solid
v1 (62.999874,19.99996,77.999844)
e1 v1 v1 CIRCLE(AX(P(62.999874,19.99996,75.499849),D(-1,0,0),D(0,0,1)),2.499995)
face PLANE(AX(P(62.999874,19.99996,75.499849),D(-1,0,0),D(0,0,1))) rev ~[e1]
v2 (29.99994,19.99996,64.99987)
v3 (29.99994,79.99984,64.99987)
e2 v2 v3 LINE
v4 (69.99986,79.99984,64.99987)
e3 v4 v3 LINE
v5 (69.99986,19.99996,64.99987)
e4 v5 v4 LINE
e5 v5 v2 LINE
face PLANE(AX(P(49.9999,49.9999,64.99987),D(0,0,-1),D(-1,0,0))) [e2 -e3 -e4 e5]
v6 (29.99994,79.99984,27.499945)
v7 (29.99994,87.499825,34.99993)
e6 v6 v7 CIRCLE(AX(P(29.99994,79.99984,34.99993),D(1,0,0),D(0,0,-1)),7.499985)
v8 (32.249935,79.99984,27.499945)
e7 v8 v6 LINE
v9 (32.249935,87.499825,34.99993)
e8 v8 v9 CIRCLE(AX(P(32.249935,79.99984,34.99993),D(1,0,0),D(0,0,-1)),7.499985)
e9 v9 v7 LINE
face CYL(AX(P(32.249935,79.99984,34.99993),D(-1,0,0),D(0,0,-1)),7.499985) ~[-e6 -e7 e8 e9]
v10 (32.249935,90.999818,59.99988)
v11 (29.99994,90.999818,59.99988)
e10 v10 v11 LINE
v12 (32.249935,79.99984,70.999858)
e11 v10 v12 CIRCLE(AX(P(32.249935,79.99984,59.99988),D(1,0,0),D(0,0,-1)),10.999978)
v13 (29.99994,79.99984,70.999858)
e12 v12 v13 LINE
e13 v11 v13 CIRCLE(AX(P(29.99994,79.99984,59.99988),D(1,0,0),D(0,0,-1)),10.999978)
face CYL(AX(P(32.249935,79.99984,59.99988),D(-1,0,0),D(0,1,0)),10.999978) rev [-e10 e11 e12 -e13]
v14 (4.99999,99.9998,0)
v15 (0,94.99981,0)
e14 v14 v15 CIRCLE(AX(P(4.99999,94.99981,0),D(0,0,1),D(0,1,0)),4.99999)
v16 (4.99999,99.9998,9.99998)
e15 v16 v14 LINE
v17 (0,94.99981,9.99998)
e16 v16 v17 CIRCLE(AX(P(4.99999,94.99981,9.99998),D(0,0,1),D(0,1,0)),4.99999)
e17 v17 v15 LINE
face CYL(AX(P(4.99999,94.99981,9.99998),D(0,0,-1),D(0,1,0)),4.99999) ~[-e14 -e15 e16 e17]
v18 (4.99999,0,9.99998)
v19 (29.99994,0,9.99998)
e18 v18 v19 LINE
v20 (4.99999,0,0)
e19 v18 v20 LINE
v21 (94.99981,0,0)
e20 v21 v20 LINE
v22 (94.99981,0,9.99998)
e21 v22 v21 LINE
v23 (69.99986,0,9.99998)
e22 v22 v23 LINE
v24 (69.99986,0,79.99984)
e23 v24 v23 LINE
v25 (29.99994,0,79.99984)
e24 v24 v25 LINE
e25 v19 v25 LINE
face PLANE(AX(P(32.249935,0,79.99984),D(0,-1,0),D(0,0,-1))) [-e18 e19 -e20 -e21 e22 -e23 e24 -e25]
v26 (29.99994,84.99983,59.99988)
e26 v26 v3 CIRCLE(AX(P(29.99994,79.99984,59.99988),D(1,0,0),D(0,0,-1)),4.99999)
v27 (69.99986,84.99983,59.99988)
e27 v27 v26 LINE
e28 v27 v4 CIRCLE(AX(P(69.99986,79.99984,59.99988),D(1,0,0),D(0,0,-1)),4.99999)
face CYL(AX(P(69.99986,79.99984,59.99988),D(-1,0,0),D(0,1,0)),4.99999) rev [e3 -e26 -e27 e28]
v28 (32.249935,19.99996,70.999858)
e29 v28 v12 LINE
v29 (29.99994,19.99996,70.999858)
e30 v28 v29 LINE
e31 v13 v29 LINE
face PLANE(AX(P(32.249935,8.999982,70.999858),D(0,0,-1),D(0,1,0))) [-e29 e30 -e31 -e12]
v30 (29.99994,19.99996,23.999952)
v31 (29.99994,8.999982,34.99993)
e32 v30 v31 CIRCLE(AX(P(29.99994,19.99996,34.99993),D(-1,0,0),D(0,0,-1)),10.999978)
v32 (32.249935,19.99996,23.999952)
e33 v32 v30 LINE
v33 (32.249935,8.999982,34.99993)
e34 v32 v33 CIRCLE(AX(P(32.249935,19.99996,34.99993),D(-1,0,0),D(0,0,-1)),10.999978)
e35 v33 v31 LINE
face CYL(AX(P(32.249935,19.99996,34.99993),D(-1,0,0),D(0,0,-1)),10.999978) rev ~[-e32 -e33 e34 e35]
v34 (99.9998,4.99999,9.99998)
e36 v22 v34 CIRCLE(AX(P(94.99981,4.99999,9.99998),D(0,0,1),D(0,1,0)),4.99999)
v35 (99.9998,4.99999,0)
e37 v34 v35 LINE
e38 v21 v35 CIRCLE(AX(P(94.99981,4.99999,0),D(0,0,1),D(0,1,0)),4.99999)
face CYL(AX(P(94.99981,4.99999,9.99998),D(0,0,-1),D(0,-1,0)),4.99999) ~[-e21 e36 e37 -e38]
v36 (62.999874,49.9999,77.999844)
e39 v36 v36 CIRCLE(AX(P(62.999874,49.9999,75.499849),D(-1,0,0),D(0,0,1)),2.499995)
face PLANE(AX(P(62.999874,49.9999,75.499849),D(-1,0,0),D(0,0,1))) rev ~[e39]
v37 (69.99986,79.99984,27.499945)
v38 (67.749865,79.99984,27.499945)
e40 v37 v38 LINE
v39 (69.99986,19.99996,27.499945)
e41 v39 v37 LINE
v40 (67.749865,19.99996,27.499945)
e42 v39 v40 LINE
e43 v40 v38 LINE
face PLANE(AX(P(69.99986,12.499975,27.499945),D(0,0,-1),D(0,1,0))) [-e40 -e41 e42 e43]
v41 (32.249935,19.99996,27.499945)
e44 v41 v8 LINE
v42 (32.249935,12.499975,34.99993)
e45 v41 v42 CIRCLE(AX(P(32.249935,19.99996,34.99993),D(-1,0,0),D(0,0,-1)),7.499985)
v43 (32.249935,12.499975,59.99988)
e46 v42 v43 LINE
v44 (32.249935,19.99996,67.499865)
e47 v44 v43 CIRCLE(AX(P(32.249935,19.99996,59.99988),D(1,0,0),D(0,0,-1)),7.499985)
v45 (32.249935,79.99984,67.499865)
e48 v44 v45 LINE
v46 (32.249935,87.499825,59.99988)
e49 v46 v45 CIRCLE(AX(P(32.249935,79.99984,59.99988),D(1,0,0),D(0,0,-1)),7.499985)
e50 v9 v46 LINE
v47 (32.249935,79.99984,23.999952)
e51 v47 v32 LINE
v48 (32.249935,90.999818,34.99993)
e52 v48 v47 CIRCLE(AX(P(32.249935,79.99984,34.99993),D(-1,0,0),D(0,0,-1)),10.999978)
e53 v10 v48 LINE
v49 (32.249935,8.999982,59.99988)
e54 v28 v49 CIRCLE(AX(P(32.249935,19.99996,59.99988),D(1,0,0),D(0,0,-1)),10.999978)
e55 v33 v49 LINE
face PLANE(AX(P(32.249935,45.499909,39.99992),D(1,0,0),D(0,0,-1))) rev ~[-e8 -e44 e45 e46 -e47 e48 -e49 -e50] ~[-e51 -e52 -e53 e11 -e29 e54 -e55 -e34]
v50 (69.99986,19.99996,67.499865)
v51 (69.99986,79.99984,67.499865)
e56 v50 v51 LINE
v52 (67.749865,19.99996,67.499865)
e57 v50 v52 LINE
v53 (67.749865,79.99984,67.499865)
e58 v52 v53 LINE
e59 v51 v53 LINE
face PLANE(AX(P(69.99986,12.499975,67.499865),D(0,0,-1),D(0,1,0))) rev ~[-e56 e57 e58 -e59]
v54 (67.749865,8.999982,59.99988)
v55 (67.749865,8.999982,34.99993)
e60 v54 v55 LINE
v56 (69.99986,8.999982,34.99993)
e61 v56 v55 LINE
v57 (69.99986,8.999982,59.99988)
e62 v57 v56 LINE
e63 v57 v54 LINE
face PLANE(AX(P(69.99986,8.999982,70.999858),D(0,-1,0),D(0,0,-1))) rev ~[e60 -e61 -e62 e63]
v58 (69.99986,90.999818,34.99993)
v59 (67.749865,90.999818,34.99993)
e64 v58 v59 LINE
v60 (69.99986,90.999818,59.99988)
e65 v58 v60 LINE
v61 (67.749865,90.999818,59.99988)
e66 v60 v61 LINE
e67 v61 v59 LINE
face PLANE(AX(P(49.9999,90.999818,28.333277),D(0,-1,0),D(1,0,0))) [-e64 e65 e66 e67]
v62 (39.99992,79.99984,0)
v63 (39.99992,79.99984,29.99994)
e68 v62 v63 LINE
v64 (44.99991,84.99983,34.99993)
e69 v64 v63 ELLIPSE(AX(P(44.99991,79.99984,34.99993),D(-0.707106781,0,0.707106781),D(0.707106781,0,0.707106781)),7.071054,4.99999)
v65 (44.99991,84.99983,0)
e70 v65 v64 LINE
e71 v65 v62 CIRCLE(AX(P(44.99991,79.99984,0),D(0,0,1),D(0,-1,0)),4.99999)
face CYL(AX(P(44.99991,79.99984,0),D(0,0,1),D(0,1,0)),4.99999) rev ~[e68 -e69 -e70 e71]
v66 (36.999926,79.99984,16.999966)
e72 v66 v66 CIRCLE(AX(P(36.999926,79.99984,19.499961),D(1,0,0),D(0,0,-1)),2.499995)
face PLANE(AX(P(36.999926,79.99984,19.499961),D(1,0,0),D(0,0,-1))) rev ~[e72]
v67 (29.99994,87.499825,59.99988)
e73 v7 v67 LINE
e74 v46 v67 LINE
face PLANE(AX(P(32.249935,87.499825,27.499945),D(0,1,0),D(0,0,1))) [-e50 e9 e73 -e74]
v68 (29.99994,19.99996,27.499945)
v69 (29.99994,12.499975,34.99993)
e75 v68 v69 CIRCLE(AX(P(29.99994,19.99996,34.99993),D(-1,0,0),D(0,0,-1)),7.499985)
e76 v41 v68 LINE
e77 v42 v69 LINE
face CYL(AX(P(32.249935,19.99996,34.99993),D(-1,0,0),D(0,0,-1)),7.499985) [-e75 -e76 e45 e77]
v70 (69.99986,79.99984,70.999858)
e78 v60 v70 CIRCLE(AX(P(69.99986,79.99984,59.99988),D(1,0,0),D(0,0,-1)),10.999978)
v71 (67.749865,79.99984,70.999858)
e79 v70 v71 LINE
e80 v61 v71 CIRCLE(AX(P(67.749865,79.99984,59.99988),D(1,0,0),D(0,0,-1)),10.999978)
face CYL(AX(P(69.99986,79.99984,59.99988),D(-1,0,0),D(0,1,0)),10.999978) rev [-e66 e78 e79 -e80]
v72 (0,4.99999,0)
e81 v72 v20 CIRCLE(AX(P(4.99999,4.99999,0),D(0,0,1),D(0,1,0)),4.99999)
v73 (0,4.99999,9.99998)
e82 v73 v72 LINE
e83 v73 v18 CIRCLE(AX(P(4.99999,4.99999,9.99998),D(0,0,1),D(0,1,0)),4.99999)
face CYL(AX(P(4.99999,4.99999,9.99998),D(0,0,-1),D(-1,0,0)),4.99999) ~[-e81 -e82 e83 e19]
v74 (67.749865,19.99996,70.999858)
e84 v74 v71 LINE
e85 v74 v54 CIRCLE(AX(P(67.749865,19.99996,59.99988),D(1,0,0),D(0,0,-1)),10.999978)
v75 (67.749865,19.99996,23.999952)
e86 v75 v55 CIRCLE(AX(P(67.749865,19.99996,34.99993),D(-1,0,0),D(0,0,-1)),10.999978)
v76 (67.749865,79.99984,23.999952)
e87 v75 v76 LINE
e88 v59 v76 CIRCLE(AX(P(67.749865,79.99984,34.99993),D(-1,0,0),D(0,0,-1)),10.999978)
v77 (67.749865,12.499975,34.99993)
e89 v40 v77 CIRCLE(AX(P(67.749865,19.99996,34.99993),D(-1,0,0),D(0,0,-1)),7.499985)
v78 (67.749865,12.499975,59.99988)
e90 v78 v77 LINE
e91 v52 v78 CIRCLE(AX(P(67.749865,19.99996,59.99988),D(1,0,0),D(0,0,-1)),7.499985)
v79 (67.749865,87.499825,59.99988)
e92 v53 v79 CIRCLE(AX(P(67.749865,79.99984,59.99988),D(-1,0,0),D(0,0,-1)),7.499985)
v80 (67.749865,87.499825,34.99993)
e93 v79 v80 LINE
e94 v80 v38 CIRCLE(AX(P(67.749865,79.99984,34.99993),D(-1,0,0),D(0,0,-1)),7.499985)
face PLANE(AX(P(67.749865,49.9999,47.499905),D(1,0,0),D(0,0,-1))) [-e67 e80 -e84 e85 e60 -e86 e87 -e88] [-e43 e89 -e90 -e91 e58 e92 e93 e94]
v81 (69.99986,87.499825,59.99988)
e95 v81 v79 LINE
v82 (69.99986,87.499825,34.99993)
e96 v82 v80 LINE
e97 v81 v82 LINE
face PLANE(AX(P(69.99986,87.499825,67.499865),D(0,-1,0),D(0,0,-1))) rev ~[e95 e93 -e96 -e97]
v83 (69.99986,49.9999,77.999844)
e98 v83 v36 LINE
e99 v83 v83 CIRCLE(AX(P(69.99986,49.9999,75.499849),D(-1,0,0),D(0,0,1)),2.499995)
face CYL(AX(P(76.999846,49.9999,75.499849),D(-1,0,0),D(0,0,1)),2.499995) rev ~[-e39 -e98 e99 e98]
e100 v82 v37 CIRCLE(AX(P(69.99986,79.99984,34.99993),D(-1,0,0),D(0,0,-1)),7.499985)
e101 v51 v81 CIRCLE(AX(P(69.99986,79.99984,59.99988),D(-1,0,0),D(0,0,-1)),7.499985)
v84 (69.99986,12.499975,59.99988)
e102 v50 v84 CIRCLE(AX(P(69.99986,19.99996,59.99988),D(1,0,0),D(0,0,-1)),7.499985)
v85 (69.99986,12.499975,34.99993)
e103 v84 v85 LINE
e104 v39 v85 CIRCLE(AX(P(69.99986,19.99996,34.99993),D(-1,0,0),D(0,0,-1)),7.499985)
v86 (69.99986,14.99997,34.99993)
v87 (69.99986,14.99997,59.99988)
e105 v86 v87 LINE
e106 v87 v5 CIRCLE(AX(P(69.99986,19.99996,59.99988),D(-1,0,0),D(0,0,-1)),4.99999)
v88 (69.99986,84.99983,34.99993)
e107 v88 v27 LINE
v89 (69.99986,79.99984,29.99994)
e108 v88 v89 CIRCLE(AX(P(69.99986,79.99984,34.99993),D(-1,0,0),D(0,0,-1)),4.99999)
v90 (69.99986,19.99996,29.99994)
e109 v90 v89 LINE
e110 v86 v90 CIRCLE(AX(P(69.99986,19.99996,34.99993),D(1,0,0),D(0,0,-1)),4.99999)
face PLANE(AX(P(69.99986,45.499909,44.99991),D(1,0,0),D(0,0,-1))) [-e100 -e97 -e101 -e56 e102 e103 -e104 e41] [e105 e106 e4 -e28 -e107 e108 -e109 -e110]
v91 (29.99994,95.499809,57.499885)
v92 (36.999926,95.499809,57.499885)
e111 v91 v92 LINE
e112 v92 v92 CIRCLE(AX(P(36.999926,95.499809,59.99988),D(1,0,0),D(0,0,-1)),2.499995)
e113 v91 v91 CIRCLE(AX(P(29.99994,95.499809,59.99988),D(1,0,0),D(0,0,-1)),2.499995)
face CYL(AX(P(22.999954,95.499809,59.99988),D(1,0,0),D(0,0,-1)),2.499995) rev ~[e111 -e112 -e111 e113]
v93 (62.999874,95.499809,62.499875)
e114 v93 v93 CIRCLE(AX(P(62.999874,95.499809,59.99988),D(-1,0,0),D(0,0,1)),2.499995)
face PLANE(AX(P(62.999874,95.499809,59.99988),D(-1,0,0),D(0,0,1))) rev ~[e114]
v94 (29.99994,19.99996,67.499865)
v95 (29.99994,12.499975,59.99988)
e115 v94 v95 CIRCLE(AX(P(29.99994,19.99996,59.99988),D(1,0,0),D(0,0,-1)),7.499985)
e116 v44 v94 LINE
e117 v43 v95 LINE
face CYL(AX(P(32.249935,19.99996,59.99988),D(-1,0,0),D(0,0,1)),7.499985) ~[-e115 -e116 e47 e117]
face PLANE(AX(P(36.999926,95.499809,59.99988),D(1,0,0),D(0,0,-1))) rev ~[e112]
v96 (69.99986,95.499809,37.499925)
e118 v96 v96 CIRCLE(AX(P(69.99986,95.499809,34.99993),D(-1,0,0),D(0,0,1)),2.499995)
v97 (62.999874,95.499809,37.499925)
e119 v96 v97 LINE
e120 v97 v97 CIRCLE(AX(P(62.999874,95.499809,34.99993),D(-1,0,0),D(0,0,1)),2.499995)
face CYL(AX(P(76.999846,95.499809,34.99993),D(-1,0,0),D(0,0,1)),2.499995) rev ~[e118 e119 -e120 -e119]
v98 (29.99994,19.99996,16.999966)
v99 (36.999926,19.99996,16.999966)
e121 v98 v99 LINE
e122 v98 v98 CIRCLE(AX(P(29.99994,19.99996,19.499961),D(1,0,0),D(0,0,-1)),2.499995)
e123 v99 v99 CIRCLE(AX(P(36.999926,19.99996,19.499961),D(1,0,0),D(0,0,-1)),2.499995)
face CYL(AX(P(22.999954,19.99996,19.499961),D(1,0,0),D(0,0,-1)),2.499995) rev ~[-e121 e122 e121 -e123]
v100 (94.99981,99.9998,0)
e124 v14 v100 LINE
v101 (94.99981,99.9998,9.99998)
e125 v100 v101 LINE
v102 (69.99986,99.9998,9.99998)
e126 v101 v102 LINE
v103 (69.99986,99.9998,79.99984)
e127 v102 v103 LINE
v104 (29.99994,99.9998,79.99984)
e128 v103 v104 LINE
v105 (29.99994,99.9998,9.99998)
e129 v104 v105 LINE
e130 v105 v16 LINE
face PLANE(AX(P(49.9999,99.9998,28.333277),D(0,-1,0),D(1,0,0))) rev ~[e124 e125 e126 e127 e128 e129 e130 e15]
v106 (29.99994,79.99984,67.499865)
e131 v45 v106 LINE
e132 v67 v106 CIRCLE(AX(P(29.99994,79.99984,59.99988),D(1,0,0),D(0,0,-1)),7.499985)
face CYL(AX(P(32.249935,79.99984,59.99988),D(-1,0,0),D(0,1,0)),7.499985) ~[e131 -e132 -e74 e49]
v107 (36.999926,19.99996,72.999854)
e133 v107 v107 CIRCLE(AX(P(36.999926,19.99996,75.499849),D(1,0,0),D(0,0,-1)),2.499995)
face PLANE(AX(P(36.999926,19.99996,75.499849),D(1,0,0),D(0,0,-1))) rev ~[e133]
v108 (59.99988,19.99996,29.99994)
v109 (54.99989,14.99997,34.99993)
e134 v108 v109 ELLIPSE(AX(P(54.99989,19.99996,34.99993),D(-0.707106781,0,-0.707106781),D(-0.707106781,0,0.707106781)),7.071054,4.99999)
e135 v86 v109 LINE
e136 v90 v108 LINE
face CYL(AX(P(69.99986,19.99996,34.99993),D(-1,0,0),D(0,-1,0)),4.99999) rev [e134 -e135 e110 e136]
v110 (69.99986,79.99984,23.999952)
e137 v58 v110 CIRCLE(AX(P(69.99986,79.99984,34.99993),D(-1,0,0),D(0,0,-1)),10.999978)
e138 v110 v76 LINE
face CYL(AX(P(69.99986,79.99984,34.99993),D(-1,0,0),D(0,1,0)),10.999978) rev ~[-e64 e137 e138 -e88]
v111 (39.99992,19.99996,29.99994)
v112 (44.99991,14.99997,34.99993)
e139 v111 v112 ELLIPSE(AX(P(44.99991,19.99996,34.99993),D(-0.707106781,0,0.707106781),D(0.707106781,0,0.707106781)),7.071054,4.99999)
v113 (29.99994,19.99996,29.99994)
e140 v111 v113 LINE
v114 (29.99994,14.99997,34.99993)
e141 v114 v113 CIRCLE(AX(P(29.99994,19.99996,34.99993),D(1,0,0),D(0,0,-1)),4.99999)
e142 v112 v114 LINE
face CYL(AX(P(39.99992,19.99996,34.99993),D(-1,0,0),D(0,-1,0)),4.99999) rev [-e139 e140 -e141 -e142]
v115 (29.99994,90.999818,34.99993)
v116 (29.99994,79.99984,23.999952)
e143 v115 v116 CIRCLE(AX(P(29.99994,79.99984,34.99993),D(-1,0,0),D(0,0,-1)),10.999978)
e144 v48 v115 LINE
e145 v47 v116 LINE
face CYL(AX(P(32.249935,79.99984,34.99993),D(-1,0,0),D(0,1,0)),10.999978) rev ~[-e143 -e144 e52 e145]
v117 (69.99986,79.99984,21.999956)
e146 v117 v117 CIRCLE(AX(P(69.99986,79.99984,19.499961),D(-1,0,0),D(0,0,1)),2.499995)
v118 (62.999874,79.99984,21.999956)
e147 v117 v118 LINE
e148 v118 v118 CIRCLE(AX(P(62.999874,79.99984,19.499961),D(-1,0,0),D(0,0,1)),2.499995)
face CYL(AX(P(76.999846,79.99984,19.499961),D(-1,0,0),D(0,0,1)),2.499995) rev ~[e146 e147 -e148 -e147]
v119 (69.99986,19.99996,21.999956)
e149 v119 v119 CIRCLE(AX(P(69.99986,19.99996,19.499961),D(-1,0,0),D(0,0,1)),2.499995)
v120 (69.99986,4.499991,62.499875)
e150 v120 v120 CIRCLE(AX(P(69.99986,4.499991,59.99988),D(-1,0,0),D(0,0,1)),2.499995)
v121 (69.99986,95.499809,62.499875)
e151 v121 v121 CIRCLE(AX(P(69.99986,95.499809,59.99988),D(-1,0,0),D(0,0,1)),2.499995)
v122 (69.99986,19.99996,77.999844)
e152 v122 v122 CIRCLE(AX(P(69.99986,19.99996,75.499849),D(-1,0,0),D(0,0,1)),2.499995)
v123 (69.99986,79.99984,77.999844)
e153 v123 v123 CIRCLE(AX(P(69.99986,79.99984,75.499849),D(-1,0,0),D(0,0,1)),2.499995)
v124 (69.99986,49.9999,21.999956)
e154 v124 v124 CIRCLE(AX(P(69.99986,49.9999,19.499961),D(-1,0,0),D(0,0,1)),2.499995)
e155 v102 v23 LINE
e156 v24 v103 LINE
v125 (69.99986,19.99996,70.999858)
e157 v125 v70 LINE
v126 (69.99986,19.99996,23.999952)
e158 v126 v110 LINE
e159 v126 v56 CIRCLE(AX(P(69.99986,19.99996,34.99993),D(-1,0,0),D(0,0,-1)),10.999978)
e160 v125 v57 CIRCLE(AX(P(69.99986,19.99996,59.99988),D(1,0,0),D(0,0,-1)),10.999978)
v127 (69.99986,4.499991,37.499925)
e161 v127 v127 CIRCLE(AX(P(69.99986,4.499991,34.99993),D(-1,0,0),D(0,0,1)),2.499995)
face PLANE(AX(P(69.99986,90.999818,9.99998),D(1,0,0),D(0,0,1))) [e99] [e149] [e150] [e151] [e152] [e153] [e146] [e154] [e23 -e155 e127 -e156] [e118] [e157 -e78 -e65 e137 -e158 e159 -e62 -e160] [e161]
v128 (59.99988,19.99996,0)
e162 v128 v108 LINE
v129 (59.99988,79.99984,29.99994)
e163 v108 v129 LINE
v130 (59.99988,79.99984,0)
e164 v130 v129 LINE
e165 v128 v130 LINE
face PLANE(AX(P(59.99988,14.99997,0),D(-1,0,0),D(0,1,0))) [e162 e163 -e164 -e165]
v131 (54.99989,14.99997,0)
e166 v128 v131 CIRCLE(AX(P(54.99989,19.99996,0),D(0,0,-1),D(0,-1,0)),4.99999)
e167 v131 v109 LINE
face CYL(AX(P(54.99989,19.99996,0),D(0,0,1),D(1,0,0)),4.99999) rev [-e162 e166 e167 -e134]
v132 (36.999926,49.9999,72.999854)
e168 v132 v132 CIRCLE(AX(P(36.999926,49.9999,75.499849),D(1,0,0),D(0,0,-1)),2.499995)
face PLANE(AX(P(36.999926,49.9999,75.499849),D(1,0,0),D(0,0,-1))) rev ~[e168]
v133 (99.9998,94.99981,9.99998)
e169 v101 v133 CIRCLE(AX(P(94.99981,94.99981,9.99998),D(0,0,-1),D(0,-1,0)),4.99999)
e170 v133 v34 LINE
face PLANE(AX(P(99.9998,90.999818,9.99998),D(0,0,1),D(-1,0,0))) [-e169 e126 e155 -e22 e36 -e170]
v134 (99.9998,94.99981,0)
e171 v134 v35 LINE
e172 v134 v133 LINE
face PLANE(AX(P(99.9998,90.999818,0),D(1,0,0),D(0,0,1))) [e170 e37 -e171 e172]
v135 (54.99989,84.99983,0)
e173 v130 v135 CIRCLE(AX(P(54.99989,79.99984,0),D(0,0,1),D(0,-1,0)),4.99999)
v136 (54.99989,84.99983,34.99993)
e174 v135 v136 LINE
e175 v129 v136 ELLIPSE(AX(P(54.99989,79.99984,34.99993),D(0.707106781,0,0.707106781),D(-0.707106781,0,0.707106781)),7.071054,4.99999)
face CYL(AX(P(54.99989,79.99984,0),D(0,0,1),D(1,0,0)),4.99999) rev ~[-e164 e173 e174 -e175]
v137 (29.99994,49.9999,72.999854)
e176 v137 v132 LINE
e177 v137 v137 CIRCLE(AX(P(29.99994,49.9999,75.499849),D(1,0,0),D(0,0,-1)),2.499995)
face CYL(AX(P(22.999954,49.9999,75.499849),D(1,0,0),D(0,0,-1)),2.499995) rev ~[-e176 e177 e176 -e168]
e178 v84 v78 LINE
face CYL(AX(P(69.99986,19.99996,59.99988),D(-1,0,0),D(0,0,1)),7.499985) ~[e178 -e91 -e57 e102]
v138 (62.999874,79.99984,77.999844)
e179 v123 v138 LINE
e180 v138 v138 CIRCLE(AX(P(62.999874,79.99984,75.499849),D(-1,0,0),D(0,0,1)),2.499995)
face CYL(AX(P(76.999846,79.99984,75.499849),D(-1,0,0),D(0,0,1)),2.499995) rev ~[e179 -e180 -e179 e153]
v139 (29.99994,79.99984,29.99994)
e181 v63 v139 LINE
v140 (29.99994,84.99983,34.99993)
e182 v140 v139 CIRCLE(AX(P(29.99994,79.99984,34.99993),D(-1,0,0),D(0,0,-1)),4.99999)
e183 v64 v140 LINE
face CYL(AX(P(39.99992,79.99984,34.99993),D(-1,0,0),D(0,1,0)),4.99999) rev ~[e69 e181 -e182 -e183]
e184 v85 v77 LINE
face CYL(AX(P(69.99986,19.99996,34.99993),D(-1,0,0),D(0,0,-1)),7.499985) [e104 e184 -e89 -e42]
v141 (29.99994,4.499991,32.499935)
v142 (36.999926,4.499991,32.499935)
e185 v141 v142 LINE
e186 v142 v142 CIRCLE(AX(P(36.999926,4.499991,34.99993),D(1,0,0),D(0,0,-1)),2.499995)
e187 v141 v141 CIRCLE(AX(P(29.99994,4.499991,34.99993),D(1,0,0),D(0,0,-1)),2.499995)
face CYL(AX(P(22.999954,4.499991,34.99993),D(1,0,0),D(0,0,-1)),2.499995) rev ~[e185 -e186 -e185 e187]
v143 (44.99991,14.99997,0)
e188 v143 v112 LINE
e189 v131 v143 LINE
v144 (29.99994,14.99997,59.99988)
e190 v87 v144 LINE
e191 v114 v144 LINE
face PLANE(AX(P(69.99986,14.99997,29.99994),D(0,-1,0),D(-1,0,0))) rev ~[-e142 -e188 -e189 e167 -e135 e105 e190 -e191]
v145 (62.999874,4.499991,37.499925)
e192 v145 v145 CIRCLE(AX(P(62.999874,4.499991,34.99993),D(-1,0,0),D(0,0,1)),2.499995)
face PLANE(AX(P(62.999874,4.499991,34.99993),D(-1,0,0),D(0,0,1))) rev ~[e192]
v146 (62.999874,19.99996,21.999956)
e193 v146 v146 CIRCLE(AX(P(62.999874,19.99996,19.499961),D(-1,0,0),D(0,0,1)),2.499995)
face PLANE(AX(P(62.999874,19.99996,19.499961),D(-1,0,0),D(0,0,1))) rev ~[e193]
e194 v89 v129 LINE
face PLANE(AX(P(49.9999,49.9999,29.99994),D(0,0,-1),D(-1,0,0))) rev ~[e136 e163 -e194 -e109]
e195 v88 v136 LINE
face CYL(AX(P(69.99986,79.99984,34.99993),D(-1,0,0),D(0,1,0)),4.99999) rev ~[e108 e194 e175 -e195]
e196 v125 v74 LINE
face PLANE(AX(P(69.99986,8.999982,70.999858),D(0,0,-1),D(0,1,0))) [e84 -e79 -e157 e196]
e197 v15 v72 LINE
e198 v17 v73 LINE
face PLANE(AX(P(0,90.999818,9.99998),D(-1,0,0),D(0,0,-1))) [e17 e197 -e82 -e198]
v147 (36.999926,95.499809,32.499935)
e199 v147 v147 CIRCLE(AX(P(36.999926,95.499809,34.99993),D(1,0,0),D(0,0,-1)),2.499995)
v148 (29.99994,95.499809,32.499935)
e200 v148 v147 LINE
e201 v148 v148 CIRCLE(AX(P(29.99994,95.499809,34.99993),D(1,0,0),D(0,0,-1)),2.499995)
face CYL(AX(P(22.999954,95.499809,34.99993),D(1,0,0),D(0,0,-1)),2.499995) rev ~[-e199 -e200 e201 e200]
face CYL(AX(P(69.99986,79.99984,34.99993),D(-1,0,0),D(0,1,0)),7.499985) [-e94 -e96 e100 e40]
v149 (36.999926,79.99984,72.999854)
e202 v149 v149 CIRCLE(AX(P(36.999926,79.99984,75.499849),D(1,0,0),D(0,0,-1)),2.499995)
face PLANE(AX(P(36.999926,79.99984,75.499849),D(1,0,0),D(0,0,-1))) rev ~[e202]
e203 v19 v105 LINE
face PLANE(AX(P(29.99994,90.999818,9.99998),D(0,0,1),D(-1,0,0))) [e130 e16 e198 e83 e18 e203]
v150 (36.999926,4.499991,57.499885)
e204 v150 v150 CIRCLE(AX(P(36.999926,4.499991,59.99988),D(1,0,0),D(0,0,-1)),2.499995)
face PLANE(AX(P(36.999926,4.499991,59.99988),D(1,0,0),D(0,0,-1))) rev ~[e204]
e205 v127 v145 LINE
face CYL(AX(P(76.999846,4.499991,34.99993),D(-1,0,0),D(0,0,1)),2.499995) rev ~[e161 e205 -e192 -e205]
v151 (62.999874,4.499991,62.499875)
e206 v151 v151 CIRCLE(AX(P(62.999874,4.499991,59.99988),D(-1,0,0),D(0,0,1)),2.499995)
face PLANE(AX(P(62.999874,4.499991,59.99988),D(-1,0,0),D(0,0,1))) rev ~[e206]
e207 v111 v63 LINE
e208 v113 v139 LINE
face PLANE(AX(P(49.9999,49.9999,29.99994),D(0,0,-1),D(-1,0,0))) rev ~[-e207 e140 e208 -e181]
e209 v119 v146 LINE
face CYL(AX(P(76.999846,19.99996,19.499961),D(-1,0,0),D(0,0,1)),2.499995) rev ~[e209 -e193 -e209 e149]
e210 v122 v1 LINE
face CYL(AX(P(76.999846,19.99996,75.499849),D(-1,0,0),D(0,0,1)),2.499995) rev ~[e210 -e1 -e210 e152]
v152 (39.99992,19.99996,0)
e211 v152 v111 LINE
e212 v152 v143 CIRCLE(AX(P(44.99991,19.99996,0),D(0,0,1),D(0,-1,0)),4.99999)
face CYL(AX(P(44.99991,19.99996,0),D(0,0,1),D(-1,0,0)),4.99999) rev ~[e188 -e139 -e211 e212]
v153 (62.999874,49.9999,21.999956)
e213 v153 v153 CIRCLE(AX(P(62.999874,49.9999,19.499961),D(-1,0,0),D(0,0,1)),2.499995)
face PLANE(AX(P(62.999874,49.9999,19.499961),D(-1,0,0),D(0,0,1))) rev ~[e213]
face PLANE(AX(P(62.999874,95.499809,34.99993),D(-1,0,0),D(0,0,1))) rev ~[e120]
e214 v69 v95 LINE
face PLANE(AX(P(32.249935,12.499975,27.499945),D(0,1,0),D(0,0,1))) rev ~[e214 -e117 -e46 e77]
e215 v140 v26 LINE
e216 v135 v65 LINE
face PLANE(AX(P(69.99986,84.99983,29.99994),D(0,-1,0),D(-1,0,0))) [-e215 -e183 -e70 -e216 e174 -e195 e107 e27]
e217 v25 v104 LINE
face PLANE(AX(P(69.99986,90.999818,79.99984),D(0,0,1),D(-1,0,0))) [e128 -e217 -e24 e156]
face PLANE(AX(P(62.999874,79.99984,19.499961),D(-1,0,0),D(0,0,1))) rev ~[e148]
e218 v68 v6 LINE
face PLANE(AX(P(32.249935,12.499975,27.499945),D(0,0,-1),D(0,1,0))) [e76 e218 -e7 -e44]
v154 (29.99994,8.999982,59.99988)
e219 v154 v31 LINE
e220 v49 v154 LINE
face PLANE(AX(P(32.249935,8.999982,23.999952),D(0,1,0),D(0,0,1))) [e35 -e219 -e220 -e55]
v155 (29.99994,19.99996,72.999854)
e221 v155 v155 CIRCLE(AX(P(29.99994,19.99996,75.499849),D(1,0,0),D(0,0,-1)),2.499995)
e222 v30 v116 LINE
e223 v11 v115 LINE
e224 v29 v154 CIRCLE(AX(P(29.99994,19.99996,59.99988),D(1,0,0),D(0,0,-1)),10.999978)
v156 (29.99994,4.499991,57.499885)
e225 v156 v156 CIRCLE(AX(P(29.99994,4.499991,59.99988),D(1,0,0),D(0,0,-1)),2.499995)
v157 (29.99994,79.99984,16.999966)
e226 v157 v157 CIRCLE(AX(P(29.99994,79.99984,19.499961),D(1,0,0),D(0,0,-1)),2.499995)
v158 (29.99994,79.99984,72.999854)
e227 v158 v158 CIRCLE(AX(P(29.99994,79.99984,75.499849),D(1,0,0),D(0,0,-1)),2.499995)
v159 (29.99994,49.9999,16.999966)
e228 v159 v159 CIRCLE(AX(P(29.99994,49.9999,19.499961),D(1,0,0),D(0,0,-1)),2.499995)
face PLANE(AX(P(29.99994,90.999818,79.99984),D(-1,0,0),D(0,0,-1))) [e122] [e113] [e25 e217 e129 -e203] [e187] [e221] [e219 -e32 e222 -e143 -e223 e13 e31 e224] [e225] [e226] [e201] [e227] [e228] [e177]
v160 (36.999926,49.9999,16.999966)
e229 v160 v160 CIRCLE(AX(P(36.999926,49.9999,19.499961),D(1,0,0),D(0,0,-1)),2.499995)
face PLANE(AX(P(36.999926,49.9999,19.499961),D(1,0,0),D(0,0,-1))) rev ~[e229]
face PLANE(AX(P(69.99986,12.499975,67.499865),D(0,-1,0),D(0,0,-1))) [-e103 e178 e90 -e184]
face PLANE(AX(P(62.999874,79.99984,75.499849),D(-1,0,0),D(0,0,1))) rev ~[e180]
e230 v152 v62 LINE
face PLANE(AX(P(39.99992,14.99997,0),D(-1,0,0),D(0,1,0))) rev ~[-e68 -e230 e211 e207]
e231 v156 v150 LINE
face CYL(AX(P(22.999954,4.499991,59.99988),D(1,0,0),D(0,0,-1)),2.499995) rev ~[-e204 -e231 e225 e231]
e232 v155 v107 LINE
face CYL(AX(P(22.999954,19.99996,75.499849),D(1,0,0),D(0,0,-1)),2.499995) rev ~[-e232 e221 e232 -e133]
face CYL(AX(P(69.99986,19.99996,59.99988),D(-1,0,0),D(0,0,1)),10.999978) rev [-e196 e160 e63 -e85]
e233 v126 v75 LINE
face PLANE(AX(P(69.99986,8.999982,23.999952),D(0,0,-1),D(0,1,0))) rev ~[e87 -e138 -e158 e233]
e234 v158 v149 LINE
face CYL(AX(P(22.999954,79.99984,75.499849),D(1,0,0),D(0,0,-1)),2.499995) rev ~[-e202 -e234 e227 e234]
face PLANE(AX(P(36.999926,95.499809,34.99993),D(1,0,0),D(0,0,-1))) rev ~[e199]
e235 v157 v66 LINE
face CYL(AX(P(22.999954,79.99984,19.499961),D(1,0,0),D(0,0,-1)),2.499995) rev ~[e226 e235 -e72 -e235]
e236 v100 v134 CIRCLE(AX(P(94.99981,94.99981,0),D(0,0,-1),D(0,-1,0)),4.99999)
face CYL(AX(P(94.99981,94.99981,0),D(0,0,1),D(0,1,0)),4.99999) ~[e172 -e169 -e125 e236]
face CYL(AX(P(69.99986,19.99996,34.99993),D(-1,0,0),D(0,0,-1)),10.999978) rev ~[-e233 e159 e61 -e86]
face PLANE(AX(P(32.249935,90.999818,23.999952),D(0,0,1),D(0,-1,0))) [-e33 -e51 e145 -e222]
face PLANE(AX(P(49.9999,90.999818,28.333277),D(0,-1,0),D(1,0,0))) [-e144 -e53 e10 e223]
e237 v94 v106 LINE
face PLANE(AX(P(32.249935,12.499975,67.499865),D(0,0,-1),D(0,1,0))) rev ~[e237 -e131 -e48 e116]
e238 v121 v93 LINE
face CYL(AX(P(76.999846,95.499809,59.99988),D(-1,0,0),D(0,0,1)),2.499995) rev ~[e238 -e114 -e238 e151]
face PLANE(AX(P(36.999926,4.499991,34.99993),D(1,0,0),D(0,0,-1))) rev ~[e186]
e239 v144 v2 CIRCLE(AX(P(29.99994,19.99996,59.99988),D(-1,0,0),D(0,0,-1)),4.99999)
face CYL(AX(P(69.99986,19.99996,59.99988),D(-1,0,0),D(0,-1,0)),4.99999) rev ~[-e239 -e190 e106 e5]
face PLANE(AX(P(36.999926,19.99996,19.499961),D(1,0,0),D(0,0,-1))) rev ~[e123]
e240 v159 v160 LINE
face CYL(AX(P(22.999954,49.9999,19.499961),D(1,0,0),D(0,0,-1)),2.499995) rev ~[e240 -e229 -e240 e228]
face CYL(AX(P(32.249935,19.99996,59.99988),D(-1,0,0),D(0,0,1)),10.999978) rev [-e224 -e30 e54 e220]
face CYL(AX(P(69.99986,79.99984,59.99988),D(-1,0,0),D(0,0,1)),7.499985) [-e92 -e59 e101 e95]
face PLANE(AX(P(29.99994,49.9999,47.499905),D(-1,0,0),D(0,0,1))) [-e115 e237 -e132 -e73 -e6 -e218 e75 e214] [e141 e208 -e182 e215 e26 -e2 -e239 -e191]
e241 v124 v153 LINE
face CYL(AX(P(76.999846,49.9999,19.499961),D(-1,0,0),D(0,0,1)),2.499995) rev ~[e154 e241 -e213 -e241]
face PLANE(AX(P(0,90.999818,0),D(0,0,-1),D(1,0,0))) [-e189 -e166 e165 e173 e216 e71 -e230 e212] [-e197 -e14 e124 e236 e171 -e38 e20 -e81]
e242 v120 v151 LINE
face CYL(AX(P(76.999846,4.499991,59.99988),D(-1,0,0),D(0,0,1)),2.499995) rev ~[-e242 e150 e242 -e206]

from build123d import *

# Parameters (mm, degrees)
SKETCH1_W                  = 79.99984
SKETCH1_H                  = 90.999818
BOSS_EXTRUDE1_DEPTH        = 67.7498645
BOSS_EXTRUDE2_DEPTH        = 32.2499355
CUT_EXTRUDE1_DEPTH         = 29.99994
SKETCH4_W                  = 29.99994
SKETCH4_H                  = 90.999818
CUT_EXTRUDE2_DEPTH         = 13.999972
SKETCH5_W                  = 69.99986
SKETCH5_H                  = 90.999818
CUT_EXTRUDE3_DEPTH         = 29.99994
SKETCH6_W                  = 39.99992
SKETCH6_H                  = 74.99985
BOSS_EXTRUDE3_DEPTH        = 2.2499955
SKETCH7_W                  = 19.99996
SKETCH7_H                  = 69.99986
CUT_EXTRUDE4_DEPTH         = 29.99994
SKETCH8_W                  = 39.99992
SKETCH8_H                  = 69.99986
CUT_EXTRUDE5_DEPTH         = 34.99993
SKETCH9_W                  = 46.999906
SKETCH9_H                  = 81.999836
SKETCH9_W_2                = 39.99992
SKETCH9_H_2                = 74.99985
CUT_EXTRUDE6_DEPTH         = 2.2499955
BOSS_EXTRUDE4_DEPTH        = 8.999982
F_10_CLEARANCE_HOLE1_D     = 4.99999
F_10_CLEARANCE_HOLE1_DEPTH = 6.999986
F_10_CLEARANCE_HOLE2_D     = 4.99999
F_10_CLEARANCE_HOLE2_DEPTH = 6.999986
FILLET1_R                  = 4.99999
FILLET2_R                  = 7.499985
FILLET3_R                  = 10.999978


with BuildPart() as part:
    # Sketch1 → Boss-Extrude1 (new body)
    with BuildSketch(Plane(origin=(99.9998, 0, 0), x_dir=(0, 0, -1), z_dir=(1, 0, 0))):
        with Locations((-39.99992, 45.499909)):
            Rectangle(SKETCH1_W, SKETCH1_H)
    extrude(amount=-BOSS_EXTRUDE1_DEPTH)

    # Sketch2 → Boss-Extrude2 (add)
    with BuildSketch(Plane.ZY.offset(-32.2499355)):
        Polygon((0, 90.999818), (23.999952, 90.999818), (23.999952, 8.999982), (70.999858, 8.999982), (70.999858, 90.999818), (79.99984, 90.999818), (79.99984, 0), (0, 0), align=None)
    extrude(amount=BOSS_EXTRUDE2_DEPTH)

    # Sketch3 → Cut-Extrude1 (cut)
    with BuildSketch(Plane.ZY):
        Polygon((70.999858, 8.999982), (23.999952, 8.999982), (23.999952, 0), (79.99984, 0), (79.99984, 90.999818), (70.999858, 90.999818), align=None)
    extrude(amount=-CUT_EXTRUDE1_DEPTH, mode=Mode.SUBTRACT)

    # Sketch4 → Cut-Extrude2 (cut)
    with BuildSketch(Plane.XY.offset(23.999952)):
        with Locations((14.99997, 45.499909)):
            Rectangle(SKETCH4_W, SKETCH4_H)
    extrude(amount=-CUT_EXTRUDE2_DEPTH, mode=Mode.SUBTRACT)

    # Sketch5 → Cut-Extrude3 (cut)
    with BuildSketch(Plane(origin=(99.9998, 0, 0), x_dir=(0, 0, -1), z_dir=(1, 0, 0))):
        with Locations((-44.99991, 45.499909)):
            Rectangle(SKETCH5_W, SKETCH5_H)
    extrude(amount=-CUT_EXTRUDE3_DEPTH, mode=Mode.SUBTRACT)

    # Sketch6 → Boss-Extrude3 (add)
    with BuildSketch(Plane.ZY.offset(-32.2499355)):
        with Locations((47.499905, 49.9999)):
            Rectangle(SKETCH6_W, SKETCH6_H)
    extrude(amount=BOSS_EXTRUDE3_DEPTH)

    # Sketch7 → Cut-Extrude4 (cut)
    with BuildSketch(Plane(origin=(0, 0, 0), x_dir=(-1, 0, 0), z_dir=(0, 0, -1))):
        with Locations((-49.9999, 49.9999)):
            Rectangle(SKETCH7_W, SKETCH7_H)
    extrude(amount=-CUT_EXTRUDE4_DEPTH, mode=Mode.SUBTRACT)

    # Sketch8 → Cut-Extrude5 (cut)
    with BuildSketch(Plane(origin=(0, 0, 29.99994), x_dir=(-1, 0, 0), z_dir=(0, 0, -1))):
        with Locations((-49.9999, 49.9999)):
            Rectangle(SKETCH8_W, SKETCH8_H)
    extrude(amount=-CUT_EXTRUDE5_DEPTH, mode=Mode.SUBTRACT)

    # Sketch9 → Cut-Extrude6 (cut)
    with BuildSketch(Plane(origin=(69.99986, 0, 0), x_dir=(0, 0, -1), z_dir=(1, 0, 0))):
        with Locations((-47.499905, 49.9999)):
            Rectangle(SKETCH9_W, SKETCH9_H)
        with Locations((-47.499905, 49.9999)):
            Rectangle(SKETCH9_W_2, SKETCH9_H_2, mode=Mode.SUBTRACT)
    extrude(amount=-CUT_EXTRUDE6_DEPTH, mode=Mode.SUBTRACT)

    # Sketch10 → Boss-Extrude4 (add)
    with BuildSketch(Plane(origin=(0, 90.999818, 0), x_dir=(-1, 0, 0), z_dir=(0, 1, 0))):
        Polygon((-29.99994, 9.99998), (0, 9.99998), (0, 0), (-99.9998, 0), (-99.9998, 9.99998), (-69.99986, 9.99998), (-69.99986, 79.99984), (-29.99994, 79.99984), align=None)
    extrude(amount=BOSS_EXTRUDE4_DEPTH)

    # #10 Clearance Hole1
    with Locations(Plane.ZY.offset(-29.99994)):
        with Locations((19.499961, 79.99984), (59.99988, 95.499809), (19.499961, 49.9999), (34.99993, 4.499991), (75.499849, 19.99996), (75.499849, 49.9999), (59.99988, 4.499991), (19.499961, 19.99996), (75.499849, 79.99984), (34.99993, 95.499809)):
            Hole(F_10_CLEARANCE_HOLE1_D / 2, depth=F_10_CLEARANCE_HOLE1_DEPTH)

    # #10 Clearance Hole2
    with Locations(Plane(origin=(69.99986, 0, 0), x_dir=(0, 0, -1), z_dir=(1, 0, 0))):
        with Locations((-59.99988, 4.499991), (-75.499849, 49.9999), (-59.99988, 95.499809), (-19.499961, 79.99984), (-19.499961, 19.99996), (-34.99993, 4.499991), (-19.499961, 49.9999), (-34.99993, 95.499809), (-75.499849, 79.99984), (-75.499849, 19.99996)):
            Hole(F_10_CLEARANCE_HOLE2_D / 2, depth=F_10_CLEARANCE_HOLE2_DEPTH)

    # Fillet1
    fillet1_edges = [part.edges().sort_by_distance(p)[0] for p in [
        (59.99988, 14.99997, 14.99997),
        (59.99988, 84.99983, 14.99997),
        (39.99992, 84.99983, 14.99997),
        (39.99992, 14.99997, 14.99997),
        (64.99987, 84.99983, 29.99994),
        (64.99987, 14.99997, 29.99994),
        (49.9999, 14.99997, 64.99987),
        (49.9999, 84.99983, 64.99987),
        (34.99993, 14.99997, 29.99994),
        (34.99993, 84.99983, 29.99994),
        (99.9998, 99.9998, 4.99999),
        (0, 99.9998, 4.99999),
        (0, 0, 4.99999),
        (99.9998, 0, 4.99999),
    ]]
    fillet(fillet1_edges, radius=FILLET1_R)

    # Fillet2
    fillet2_edges = [part.edges().sort_by_distance(p)[0] for p in [
        (68.87486225, 87.499825, 67.499865),
        (68.87486225, 87.499825, 27.499945),
        (68.87486225, 12.499975, 27.499945),
        (68.87486225, 12.499975, 67.499865),
        (31.12493775, 87.499825, 27.499945),
        (31.12493775, 12.499975, 27.499945),
        (31.12493775, 12.499975, 67.499865),
        (31.12493775, 87.499825, 67.499865),
    ]]
    fillet(fillet2_edges, radius=FILLET2_R)

    # Fillet3
    fillet3_edges = [part.edges().sort_by_distance(p)[0] for p in [
        (68.87486225, 8.999982, 70.999858),
        (68.87486225, 90.999818, 70.999858),
        (68.87486225, 90.999818, 23.999952),
        (68.87486225, 8.999982, 23.999952),
        (31.12493775, 8.999982, 23.999952),
        (31.12493775, 8.999982, 70.999858),
        (31.12493775, 90.999818, 70.999858),
        (31.12493775, 90.999818, 23.999952),
    ]]
    fillet(fillet3_edges, radius=FILLET3_R)


solid = part.part
